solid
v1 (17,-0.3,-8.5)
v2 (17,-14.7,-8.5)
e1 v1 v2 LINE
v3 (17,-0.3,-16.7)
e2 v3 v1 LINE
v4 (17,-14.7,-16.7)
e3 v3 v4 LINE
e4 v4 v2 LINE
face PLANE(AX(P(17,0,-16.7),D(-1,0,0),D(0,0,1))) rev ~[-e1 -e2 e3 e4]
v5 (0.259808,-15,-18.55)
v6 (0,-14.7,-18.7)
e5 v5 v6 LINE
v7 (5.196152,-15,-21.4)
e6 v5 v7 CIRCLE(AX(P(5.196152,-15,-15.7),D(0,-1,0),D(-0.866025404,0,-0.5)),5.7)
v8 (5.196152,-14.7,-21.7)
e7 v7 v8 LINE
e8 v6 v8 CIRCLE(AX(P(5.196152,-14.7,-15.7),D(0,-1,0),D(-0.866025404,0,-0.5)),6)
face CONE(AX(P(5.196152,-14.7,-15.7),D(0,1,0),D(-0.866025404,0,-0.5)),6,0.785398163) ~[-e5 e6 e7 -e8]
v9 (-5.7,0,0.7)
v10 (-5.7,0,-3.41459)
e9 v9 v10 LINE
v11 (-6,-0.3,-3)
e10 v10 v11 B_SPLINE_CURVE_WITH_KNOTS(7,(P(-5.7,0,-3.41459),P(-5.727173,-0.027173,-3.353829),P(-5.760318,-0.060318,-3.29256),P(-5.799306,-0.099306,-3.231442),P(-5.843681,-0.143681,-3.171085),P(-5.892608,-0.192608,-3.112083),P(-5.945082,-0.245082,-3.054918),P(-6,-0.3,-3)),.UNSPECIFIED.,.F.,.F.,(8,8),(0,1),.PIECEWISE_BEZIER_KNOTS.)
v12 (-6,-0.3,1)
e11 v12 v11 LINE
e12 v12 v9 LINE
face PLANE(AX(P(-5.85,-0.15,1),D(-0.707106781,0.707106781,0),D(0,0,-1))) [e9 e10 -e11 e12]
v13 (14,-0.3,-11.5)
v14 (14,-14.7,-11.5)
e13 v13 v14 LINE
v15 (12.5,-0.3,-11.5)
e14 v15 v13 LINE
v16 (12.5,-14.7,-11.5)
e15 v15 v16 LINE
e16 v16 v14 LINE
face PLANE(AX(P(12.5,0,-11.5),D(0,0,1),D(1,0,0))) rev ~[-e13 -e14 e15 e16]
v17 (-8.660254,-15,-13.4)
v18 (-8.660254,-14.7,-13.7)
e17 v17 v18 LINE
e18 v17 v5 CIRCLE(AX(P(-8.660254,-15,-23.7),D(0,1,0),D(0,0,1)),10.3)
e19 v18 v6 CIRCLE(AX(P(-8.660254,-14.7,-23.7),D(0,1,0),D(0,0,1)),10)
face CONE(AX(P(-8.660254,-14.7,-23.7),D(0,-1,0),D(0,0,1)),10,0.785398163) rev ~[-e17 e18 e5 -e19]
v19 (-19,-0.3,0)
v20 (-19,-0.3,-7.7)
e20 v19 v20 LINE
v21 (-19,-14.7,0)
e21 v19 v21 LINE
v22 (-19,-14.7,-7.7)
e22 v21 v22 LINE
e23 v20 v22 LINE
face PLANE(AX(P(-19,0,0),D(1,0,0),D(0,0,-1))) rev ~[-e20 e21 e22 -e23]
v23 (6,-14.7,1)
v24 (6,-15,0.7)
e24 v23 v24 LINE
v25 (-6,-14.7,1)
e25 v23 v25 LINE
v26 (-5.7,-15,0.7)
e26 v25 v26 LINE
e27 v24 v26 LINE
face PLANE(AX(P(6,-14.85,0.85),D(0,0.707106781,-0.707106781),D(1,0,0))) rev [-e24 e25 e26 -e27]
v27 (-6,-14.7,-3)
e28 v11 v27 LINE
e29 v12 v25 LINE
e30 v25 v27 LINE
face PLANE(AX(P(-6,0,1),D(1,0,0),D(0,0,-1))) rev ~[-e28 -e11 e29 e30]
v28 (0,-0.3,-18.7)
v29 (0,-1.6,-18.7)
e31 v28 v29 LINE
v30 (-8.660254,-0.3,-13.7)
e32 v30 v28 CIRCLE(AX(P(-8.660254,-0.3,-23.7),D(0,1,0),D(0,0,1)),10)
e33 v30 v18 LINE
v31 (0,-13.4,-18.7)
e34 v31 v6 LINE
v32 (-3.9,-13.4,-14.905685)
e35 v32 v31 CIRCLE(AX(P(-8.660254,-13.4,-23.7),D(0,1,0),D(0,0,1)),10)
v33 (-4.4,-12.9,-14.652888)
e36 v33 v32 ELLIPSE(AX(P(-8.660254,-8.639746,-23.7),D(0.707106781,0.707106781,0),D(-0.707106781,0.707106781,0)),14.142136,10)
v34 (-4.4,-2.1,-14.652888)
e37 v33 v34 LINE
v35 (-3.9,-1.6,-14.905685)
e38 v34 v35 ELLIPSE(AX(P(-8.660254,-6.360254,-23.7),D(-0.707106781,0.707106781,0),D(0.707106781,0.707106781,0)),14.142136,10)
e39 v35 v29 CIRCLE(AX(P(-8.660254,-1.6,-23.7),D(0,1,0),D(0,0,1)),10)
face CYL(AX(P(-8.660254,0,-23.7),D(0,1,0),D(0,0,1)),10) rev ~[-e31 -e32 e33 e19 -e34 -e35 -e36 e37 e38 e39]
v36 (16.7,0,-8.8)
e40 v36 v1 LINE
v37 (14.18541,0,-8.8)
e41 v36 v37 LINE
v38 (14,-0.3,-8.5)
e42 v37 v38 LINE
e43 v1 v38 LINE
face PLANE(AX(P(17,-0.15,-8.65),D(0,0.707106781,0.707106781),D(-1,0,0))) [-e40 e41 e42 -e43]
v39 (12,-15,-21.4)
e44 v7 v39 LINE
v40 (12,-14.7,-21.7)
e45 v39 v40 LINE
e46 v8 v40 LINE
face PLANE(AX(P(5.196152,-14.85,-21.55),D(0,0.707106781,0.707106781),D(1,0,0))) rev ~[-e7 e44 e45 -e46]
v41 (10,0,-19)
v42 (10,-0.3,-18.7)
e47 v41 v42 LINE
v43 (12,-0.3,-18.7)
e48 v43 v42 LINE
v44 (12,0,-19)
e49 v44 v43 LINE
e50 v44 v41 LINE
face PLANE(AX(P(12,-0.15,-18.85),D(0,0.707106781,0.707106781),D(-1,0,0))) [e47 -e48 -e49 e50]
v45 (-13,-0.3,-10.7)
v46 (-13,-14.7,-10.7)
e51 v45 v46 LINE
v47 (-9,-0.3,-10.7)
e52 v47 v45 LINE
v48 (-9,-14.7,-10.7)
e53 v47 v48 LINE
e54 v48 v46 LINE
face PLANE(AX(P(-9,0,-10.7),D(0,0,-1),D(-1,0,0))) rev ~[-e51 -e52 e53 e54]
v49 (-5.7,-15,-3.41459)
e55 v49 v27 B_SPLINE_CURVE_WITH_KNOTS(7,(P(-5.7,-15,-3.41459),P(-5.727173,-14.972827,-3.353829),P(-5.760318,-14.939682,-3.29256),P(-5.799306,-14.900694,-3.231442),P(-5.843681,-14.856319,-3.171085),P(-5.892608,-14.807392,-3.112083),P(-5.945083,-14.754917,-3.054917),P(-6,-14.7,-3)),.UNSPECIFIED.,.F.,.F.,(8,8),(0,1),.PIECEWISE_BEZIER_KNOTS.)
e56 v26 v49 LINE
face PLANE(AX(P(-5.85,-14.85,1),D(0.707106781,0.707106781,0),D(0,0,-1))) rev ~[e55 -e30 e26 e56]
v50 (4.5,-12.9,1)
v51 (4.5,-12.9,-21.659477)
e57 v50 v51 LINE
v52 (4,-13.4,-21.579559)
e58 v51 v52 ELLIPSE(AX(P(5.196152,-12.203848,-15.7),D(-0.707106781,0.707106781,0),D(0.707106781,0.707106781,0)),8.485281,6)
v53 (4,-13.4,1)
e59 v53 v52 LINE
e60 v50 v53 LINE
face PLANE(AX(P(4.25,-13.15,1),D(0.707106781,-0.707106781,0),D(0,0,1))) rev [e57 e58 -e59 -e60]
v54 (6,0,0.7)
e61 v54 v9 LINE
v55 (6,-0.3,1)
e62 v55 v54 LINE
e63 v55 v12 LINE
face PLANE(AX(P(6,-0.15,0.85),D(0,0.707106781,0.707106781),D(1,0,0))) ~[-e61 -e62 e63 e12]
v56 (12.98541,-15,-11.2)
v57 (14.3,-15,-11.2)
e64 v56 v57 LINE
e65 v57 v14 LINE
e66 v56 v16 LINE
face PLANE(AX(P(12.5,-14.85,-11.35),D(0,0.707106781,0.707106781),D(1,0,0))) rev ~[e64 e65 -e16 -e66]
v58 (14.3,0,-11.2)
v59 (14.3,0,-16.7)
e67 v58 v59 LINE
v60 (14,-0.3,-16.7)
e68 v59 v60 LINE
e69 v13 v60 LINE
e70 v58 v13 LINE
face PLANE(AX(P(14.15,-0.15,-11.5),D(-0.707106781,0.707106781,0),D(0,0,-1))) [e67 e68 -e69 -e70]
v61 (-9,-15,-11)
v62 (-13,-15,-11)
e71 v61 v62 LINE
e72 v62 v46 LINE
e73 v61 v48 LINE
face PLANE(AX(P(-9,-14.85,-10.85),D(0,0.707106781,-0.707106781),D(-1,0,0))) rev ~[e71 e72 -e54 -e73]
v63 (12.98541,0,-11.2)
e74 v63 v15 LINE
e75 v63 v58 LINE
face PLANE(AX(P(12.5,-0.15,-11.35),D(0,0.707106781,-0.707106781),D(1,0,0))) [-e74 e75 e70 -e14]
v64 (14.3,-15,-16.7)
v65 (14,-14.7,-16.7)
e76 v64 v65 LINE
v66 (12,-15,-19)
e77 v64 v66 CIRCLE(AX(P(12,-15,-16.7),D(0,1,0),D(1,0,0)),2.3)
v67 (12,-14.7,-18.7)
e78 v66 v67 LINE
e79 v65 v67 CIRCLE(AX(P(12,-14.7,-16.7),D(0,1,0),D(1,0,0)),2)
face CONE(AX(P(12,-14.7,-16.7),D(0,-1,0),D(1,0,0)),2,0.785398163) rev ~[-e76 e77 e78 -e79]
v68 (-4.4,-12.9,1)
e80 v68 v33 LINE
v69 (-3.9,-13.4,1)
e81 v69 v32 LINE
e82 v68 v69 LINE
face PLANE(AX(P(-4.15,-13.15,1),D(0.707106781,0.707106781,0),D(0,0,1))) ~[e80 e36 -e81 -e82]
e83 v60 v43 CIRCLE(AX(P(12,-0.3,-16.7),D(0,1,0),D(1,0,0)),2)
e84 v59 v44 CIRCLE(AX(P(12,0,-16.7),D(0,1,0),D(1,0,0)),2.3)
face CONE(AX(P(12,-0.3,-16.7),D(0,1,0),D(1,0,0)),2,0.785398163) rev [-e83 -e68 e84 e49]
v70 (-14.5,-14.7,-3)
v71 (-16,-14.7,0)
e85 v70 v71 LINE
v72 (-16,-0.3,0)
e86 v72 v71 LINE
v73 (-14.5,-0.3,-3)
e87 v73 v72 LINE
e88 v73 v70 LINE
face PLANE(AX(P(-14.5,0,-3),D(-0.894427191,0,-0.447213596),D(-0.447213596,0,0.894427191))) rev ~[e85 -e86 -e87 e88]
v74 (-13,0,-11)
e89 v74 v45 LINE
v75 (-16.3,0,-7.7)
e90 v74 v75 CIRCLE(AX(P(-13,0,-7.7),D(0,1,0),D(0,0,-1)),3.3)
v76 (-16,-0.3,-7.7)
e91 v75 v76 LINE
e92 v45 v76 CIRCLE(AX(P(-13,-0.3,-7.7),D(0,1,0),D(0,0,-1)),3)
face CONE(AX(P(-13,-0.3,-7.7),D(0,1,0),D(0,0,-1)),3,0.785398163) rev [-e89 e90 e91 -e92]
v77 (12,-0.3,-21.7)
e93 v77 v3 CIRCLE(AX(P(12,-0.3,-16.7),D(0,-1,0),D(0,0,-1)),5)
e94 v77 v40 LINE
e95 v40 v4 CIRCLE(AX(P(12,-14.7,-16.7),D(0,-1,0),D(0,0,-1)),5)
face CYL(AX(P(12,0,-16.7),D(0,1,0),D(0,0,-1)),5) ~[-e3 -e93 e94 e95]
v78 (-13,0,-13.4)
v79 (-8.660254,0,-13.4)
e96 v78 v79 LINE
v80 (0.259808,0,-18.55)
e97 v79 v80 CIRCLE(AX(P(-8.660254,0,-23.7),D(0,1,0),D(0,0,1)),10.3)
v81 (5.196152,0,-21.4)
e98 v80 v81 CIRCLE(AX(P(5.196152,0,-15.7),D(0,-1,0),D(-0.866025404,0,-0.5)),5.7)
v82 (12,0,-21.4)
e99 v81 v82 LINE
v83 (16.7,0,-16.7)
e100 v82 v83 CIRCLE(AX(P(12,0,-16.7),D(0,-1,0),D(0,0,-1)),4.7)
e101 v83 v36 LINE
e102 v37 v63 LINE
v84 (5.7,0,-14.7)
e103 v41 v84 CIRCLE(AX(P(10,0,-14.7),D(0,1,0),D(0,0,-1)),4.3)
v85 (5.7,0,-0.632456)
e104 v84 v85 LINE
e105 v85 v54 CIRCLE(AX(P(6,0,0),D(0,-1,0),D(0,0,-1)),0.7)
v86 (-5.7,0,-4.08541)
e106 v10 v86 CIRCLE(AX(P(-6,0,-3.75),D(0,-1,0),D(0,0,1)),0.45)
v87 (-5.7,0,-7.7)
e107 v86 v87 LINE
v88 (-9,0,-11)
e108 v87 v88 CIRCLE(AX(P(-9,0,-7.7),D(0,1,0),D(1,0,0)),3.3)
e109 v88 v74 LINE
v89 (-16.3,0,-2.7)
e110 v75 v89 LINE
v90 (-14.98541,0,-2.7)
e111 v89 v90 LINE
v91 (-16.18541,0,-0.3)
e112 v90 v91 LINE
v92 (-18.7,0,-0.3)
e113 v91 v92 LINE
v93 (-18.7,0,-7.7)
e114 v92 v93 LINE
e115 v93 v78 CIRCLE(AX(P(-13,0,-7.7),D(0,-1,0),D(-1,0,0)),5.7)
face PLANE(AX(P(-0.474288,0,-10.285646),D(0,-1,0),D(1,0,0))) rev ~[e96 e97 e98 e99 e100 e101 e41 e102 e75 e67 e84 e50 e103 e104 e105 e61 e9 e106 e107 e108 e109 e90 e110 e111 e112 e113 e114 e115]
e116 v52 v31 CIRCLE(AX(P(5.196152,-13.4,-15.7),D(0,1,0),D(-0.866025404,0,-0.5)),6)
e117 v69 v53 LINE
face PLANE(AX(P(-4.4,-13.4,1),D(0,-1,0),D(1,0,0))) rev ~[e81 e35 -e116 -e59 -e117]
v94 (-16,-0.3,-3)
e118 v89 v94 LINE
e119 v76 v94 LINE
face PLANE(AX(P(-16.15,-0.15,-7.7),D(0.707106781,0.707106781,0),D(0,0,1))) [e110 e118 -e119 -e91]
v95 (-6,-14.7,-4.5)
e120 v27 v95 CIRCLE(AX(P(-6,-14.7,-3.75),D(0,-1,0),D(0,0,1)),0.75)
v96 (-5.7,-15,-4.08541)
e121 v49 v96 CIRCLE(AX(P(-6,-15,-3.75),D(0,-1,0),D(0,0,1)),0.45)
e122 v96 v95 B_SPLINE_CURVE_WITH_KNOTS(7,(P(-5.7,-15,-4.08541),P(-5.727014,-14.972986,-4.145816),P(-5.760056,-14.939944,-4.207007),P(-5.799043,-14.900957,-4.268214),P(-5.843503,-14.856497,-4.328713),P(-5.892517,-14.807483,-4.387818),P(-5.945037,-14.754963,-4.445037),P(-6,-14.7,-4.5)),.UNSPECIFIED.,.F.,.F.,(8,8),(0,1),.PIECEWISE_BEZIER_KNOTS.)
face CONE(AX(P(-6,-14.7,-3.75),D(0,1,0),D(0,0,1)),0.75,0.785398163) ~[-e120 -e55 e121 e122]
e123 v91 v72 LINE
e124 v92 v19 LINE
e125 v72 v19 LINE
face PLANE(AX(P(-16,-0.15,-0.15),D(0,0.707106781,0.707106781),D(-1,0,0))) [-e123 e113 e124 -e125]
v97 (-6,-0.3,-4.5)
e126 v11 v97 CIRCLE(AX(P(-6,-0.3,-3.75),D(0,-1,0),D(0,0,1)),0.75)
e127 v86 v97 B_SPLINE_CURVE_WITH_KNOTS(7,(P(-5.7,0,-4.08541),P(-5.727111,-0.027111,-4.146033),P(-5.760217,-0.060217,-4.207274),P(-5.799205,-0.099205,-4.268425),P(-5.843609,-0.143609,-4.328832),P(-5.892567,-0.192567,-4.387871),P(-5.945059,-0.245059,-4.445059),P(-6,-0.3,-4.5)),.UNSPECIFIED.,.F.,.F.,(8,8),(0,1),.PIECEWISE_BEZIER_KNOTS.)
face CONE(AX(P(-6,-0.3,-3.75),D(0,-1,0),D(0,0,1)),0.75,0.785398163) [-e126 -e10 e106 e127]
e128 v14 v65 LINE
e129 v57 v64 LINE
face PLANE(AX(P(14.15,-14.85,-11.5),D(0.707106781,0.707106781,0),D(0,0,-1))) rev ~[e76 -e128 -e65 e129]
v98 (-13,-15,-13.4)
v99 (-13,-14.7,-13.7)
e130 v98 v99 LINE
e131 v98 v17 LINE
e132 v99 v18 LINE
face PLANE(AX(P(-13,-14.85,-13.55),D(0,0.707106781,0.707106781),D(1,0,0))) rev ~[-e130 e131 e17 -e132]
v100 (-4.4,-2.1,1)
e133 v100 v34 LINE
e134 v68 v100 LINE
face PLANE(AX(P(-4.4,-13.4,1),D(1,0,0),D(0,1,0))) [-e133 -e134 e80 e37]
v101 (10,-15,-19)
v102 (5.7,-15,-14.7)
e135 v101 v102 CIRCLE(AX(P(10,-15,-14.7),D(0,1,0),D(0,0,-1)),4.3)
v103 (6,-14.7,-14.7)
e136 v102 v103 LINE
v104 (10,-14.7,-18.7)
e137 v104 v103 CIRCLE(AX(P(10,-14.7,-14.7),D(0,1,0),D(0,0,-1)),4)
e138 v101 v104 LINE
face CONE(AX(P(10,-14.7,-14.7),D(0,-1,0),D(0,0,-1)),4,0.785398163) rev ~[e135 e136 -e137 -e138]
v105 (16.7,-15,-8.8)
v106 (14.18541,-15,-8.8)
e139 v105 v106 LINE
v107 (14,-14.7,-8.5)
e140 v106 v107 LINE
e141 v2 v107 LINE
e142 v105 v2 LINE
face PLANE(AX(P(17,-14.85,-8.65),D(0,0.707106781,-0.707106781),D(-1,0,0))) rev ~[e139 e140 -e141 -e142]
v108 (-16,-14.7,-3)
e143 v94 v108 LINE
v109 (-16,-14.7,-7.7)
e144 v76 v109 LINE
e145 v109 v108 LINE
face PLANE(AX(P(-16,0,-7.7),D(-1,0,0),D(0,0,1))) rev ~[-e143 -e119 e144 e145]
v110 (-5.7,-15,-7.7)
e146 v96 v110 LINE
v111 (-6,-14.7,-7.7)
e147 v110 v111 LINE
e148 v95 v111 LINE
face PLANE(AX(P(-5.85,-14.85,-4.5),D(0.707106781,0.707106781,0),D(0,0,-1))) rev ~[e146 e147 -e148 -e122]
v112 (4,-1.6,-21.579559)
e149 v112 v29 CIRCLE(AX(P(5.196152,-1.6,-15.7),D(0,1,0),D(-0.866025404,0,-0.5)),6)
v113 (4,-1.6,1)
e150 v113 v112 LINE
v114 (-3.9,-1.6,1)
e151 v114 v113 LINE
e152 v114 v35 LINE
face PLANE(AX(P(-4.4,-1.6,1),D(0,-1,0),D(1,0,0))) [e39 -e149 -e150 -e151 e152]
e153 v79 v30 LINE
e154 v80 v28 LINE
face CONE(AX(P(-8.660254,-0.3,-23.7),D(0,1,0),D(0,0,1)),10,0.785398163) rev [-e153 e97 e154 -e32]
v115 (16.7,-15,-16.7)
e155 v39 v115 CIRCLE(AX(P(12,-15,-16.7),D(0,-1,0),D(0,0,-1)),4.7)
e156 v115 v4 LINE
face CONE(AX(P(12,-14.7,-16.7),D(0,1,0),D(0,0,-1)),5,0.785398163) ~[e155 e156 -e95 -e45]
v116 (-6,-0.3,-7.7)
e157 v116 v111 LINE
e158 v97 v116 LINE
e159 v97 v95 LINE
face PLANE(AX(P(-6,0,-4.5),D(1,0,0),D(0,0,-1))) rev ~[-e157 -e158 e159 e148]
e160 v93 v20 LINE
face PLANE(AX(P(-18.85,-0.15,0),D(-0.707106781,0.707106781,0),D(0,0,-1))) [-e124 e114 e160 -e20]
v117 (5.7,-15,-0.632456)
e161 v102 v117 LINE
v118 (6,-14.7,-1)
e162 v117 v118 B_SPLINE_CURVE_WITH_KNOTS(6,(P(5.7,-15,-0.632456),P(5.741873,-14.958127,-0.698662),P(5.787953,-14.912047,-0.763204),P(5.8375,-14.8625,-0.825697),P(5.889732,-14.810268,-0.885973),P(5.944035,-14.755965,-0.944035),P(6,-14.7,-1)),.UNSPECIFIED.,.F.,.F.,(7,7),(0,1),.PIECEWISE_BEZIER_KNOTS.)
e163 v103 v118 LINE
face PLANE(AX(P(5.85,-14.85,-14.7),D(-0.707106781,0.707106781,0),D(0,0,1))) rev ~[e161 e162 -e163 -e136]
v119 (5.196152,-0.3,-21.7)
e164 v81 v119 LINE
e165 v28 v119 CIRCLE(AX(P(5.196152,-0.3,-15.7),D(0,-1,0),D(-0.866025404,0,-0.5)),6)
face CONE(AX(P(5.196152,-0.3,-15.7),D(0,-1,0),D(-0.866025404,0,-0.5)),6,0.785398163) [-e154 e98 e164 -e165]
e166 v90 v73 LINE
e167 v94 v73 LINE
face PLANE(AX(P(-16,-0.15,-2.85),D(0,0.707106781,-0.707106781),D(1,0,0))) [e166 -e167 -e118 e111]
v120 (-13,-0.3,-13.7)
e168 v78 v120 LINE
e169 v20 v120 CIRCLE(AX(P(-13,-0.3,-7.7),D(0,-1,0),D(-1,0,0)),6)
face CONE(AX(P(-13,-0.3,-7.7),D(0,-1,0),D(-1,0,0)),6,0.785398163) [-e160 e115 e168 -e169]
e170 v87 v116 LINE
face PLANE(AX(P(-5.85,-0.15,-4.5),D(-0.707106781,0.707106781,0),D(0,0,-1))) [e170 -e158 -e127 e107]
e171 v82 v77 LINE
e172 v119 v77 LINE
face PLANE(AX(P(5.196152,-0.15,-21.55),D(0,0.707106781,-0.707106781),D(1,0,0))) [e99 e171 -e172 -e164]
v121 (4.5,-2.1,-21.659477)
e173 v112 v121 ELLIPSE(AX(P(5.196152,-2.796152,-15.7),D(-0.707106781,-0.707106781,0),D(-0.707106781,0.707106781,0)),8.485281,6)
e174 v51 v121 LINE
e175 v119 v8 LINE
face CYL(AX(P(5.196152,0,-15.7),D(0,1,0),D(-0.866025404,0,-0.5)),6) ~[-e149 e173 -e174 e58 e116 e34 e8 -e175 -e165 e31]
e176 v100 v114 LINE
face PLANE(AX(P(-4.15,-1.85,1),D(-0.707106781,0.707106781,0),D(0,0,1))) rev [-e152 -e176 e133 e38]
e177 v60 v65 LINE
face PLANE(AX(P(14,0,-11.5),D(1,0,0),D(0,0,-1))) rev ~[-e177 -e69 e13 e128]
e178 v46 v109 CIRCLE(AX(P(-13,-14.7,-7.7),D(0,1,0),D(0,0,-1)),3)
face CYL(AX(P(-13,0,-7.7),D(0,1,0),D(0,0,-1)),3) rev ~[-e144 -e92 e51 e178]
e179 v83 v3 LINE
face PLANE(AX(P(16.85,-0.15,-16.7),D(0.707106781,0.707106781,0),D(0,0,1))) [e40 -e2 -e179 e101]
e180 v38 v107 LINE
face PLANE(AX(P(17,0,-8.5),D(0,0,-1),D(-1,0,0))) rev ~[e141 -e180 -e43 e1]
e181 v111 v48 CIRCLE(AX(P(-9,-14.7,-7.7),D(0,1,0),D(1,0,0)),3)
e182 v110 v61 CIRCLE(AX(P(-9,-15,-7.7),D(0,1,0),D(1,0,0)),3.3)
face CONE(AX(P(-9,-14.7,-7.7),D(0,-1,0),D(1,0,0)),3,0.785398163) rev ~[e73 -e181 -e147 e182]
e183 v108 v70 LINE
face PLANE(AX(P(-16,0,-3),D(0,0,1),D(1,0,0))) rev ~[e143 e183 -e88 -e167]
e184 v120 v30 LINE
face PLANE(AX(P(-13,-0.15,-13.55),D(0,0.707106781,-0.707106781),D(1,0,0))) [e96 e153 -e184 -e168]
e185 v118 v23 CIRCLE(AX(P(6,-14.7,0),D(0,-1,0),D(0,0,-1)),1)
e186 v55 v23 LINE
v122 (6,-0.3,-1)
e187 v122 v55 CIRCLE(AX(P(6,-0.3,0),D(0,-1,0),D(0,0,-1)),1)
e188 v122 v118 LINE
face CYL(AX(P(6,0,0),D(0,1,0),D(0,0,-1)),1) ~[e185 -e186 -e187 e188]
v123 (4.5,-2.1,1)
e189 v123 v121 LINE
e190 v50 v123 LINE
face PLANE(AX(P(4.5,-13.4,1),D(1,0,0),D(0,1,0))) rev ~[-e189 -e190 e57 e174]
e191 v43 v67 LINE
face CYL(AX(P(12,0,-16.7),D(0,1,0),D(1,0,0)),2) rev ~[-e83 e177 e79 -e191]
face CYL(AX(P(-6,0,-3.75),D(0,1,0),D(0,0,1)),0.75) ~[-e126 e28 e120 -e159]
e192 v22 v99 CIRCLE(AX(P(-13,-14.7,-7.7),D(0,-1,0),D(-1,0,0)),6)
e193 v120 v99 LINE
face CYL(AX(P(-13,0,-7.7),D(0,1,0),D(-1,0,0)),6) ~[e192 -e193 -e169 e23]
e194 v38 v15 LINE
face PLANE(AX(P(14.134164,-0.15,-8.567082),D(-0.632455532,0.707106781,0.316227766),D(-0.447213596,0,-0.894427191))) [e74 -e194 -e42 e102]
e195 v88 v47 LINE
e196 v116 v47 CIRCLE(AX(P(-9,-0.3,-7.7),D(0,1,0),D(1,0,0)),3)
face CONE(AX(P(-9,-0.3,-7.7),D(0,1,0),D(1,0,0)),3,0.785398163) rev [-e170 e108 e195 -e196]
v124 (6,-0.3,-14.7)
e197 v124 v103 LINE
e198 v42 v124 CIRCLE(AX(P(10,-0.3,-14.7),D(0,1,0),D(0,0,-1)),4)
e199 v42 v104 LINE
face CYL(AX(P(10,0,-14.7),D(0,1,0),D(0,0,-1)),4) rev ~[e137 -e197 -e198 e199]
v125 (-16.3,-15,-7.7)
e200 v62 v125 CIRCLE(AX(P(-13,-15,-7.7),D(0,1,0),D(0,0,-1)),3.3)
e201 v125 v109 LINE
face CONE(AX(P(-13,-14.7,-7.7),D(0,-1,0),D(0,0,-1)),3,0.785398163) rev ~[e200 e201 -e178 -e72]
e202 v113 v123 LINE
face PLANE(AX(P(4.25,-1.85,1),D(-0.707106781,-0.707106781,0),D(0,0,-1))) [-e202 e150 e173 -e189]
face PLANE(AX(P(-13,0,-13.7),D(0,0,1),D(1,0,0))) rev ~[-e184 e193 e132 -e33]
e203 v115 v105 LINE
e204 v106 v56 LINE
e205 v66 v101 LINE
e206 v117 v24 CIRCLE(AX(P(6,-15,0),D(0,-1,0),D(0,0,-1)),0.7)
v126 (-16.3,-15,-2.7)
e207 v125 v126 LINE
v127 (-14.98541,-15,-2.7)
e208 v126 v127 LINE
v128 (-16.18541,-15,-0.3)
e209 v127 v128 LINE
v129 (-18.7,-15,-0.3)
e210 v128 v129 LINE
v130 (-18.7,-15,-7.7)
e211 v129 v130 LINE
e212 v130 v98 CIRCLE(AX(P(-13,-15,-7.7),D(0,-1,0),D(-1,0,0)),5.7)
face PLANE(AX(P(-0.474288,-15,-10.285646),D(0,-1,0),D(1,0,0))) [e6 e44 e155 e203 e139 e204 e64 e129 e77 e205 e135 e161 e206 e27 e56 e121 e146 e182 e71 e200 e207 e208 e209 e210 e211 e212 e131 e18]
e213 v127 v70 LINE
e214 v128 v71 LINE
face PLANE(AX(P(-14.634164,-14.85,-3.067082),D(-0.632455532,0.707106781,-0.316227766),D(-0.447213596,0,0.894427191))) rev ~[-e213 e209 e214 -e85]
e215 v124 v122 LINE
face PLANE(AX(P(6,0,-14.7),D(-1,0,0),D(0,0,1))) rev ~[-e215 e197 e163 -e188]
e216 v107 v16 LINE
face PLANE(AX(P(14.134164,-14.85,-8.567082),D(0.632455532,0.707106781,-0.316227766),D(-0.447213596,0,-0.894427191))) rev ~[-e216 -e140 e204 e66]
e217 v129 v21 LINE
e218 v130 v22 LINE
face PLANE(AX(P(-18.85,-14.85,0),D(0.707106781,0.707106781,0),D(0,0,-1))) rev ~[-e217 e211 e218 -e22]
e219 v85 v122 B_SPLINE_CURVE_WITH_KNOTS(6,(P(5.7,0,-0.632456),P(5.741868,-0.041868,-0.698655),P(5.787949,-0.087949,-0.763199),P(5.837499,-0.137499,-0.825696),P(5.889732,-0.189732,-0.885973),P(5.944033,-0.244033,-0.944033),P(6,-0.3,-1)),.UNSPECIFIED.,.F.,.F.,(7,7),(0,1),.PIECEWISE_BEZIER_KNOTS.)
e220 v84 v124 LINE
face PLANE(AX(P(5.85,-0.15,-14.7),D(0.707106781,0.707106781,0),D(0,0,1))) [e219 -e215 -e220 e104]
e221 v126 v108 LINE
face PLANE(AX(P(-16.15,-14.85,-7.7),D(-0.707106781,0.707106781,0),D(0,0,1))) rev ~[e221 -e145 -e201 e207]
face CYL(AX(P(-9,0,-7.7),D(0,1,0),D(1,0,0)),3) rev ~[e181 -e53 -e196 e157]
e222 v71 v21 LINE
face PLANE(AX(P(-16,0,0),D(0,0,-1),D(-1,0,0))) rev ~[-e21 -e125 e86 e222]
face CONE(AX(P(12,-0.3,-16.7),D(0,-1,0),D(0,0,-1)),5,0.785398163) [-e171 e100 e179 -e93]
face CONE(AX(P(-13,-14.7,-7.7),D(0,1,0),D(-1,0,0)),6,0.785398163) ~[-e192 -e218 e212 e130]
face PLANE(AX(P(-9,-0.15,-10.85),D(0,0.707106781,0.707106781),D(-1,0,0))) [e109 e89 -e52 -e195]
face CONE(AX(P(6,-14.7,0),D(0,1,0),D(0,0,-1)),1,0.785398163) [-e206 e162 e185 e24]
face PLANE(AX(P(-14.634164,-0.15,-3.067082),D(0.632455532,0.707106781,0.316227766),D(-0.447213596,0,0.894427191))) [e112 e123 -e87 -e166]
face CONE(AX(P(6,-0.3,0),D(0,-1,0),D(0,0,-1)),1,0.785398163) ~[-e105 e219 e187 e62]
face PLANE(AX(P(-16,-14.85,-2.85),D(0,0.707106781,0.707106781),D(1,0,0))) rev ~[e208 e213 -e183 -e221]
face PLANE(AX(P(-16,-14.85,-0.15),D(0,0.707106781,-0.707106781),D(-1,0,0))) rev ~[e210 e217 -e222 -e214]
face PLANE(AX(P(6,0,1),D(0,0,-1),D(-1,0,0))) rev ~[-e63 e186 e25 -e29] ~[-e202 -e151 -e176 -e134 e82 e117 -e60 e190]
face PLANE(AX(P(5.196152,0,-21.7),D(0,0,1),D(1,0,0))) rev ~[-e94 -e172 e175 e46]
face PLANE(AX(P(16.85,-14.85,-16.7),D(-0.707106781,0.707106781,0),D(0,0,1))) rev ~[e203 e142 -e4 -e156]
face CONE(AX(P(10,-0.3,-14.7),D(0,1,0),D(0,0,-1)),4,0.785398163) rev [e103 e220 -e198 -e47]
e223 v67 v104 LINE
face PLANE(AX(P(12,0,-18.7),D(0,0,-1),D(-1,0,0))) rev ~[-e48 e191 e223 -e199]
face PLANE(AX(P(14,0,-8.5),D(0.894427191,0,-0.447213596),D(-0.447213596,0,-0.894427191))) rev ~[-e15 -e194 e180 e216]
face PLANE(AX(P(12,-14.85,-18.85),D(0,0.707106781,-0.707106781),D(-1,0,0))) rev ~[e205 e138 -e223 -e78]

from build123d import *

# Parameters (mm, degrees)
F1_DEPTH = 15
F2_W     = 8.9
F2_H     = 11.8
F3_DEPTH = 25
F4_SIZE  = 0.3
F5_SIZE  = 0.5


with BuildPart() as f1:
    # F0 (on Front) → F1 (new body)
    with BuildSketch(Plane.XZ):
        with BuildLine():
            Line((6, 1), (-6, 1))
            Line((-6, 1), (-6, -3))
            ThreePointArc((-6, -3), (-6.75, -3.75), (-6, -4.5))
            Line((-6, -4.5), (-6, -5.7))
            Line((-6, -5.7), (-6, -7.7))
            ThreePointArc((-6, -7.7), (-6.8786796564, -9.8213203436), (-9, -10.7))
            Line((-9, -10.7), (-13, -10.7))
            ThreePointArc((-13, -10.7), (-15.1213203436, -9.8213203436), (-16, -7.7))
            Line((-16, -7.7), (-16, -5.7))
            Line((-16, -5.7), (-16, -3))
            Line((-16, -3), (-14.5, -3))
            Line((-14.5, -3), (-16, 0))
            Line((-16, 0), (-19, 0))
            Line((-19, 0), (-19, -7.7))
            ThreePointArc((-19, -7.7), (-17.2426406871, -11.9426406871), (-13, -13.7))
            Line((-13, -13.7), (-8.6602540378, -13.7))
            ThreePointArc((-8.6602540378, -13.7), (-3.6602540378, -15.0397459622), (0, -18.7))
            ThreePointArc((0, -18.7), (2.1961524227, -20.8961524227), (5.1961524227, -21.7))
            Line((5.1961524227, -21.7), (12, -21.7))
            ThreePointArc((12, -21.7), (15.5355339059, -20.2355339059), (17, -16.7))
            Line((17, -16.7), (17, -8.5))
            Line((17, -8.5), (14, -8.5))
            Line((14, -8.5), (12.5, -11.5))
            Line((12.5, -11.5), (14, -11.5))
            Line((14, -11.5), (14, -14.7))
            Line((14, -14.7), (14, -16.7))
            ThreePointArc((14, -16.7), (13.4142135624, -18.1142135624), (12, -18.7))
            Line((12, -18.7), (10, -18.7))
            ThreePointArc((10, -18.7), (7.1715728753, -17.5284271247), (6, -14.7))
            Line((6, -14.7), (6, -1))
            ThreePointArc((6, -1), (7, 0), (6, 1))
        make_face()
    extrude(amount=F1_DEPTH)

    # F2 (on face) → F3 (cut)
    with BuildSketch(Plane.XY.offset(1)):
        with Locations((0.05, -7.5)):
            Rectangle(F2_W, F2_H)
    extrude(amount=-F3_DEPTH, mode=Mode.SUBTRACT)

    # F4
    f4_edges = [f1.edges().sort_by_distance(p)[0] for p in [
        (11, -15, -18.7),
        (7.171573, -15, -17.528427),
        (6, -15, -7.85),
        (7, -15, 0),
        (0, -15, 1),
        (-6, -15, -1),
        (-6.75, -15, -3.75),
        (-6, -15, -6.1),
        (-6.87868, -15, -9.82132),
        (-11, -15, -10.7),
        (-15.12132, -15, -9.82132),
        (-16, -15, -5.35),
        (-15.25, -15, -3),
        (-15.25, -15, -1.5),
        (-17.5, -15, 0),
        (-19, -15, -3.85),
        (-17.242641, -15, -11.942641),
        (-10.830127, -15, -13.7),
        (-3.660254, -15, -15.039746),
        (2.196152, -15, -20.896152),
        (8.598076, -15, -21.7),
        (15.535534, -15, -20.235534),
        (17, -15, -12.6),
        (15.5, -15, -8.5),
        (13.25, -15, -10),
        (13.25, -15, -11.5),
        (14, -15, -14.1),
        (13.414214, -15, -18.114214),
        (11, 0, -18.7),
        (7.171573, 0, -17.528427),
        (6, 0, -7.85),
        (7, 0, 0),
        (0, 0, 1),
        (-6, 0, -1),
        (-6.75, 0, -3.75),
        (-6, 0, -6.1),
        (-6.87868, 0, -9.82132),
        (-11, 0, -10.7),
        (-15.12132, 0, -9.82132),
        (-16, 0, -5.35),
        (-15.25, 0, -3),
        (-15.25, 0, -1.5),
        (-17.5, 0, 0),
        (-19, 0, -3.85),
        (-17.242641, 0, -11.942641),
        (-10.830127, 0, -13.7),
        (-3.660254, 0, -15.039746),
        (2.196152, 0, -20.896152),
        (8.598076, 0, -21.7),
        (15.535534, 0, -20.235534),
        (17, 0, -12.6),
        (15.5, 0, -8.5),
        (13.25, 0, -10),
        (13.25, 0, -11.5),
        (14, 0, -14.1),
        (13.414214, 0, -18.114214),
    ]]
    chamfer(f4_edges, length=F4_SIZE)

    # F5
    f5_edges = [f1.edges().sort_by_distance(p)[0] for p in [
        (-4.4, -13.4, -6.826444),
        (4.5, -13.4, -10.329739),
        (4.5, -1.6, -10.329739),
        (-4.4, -1.6, -6.826444),
    ]]
    chamfer(f5_edges, length=F5_SIZE)


solid = f1.part
